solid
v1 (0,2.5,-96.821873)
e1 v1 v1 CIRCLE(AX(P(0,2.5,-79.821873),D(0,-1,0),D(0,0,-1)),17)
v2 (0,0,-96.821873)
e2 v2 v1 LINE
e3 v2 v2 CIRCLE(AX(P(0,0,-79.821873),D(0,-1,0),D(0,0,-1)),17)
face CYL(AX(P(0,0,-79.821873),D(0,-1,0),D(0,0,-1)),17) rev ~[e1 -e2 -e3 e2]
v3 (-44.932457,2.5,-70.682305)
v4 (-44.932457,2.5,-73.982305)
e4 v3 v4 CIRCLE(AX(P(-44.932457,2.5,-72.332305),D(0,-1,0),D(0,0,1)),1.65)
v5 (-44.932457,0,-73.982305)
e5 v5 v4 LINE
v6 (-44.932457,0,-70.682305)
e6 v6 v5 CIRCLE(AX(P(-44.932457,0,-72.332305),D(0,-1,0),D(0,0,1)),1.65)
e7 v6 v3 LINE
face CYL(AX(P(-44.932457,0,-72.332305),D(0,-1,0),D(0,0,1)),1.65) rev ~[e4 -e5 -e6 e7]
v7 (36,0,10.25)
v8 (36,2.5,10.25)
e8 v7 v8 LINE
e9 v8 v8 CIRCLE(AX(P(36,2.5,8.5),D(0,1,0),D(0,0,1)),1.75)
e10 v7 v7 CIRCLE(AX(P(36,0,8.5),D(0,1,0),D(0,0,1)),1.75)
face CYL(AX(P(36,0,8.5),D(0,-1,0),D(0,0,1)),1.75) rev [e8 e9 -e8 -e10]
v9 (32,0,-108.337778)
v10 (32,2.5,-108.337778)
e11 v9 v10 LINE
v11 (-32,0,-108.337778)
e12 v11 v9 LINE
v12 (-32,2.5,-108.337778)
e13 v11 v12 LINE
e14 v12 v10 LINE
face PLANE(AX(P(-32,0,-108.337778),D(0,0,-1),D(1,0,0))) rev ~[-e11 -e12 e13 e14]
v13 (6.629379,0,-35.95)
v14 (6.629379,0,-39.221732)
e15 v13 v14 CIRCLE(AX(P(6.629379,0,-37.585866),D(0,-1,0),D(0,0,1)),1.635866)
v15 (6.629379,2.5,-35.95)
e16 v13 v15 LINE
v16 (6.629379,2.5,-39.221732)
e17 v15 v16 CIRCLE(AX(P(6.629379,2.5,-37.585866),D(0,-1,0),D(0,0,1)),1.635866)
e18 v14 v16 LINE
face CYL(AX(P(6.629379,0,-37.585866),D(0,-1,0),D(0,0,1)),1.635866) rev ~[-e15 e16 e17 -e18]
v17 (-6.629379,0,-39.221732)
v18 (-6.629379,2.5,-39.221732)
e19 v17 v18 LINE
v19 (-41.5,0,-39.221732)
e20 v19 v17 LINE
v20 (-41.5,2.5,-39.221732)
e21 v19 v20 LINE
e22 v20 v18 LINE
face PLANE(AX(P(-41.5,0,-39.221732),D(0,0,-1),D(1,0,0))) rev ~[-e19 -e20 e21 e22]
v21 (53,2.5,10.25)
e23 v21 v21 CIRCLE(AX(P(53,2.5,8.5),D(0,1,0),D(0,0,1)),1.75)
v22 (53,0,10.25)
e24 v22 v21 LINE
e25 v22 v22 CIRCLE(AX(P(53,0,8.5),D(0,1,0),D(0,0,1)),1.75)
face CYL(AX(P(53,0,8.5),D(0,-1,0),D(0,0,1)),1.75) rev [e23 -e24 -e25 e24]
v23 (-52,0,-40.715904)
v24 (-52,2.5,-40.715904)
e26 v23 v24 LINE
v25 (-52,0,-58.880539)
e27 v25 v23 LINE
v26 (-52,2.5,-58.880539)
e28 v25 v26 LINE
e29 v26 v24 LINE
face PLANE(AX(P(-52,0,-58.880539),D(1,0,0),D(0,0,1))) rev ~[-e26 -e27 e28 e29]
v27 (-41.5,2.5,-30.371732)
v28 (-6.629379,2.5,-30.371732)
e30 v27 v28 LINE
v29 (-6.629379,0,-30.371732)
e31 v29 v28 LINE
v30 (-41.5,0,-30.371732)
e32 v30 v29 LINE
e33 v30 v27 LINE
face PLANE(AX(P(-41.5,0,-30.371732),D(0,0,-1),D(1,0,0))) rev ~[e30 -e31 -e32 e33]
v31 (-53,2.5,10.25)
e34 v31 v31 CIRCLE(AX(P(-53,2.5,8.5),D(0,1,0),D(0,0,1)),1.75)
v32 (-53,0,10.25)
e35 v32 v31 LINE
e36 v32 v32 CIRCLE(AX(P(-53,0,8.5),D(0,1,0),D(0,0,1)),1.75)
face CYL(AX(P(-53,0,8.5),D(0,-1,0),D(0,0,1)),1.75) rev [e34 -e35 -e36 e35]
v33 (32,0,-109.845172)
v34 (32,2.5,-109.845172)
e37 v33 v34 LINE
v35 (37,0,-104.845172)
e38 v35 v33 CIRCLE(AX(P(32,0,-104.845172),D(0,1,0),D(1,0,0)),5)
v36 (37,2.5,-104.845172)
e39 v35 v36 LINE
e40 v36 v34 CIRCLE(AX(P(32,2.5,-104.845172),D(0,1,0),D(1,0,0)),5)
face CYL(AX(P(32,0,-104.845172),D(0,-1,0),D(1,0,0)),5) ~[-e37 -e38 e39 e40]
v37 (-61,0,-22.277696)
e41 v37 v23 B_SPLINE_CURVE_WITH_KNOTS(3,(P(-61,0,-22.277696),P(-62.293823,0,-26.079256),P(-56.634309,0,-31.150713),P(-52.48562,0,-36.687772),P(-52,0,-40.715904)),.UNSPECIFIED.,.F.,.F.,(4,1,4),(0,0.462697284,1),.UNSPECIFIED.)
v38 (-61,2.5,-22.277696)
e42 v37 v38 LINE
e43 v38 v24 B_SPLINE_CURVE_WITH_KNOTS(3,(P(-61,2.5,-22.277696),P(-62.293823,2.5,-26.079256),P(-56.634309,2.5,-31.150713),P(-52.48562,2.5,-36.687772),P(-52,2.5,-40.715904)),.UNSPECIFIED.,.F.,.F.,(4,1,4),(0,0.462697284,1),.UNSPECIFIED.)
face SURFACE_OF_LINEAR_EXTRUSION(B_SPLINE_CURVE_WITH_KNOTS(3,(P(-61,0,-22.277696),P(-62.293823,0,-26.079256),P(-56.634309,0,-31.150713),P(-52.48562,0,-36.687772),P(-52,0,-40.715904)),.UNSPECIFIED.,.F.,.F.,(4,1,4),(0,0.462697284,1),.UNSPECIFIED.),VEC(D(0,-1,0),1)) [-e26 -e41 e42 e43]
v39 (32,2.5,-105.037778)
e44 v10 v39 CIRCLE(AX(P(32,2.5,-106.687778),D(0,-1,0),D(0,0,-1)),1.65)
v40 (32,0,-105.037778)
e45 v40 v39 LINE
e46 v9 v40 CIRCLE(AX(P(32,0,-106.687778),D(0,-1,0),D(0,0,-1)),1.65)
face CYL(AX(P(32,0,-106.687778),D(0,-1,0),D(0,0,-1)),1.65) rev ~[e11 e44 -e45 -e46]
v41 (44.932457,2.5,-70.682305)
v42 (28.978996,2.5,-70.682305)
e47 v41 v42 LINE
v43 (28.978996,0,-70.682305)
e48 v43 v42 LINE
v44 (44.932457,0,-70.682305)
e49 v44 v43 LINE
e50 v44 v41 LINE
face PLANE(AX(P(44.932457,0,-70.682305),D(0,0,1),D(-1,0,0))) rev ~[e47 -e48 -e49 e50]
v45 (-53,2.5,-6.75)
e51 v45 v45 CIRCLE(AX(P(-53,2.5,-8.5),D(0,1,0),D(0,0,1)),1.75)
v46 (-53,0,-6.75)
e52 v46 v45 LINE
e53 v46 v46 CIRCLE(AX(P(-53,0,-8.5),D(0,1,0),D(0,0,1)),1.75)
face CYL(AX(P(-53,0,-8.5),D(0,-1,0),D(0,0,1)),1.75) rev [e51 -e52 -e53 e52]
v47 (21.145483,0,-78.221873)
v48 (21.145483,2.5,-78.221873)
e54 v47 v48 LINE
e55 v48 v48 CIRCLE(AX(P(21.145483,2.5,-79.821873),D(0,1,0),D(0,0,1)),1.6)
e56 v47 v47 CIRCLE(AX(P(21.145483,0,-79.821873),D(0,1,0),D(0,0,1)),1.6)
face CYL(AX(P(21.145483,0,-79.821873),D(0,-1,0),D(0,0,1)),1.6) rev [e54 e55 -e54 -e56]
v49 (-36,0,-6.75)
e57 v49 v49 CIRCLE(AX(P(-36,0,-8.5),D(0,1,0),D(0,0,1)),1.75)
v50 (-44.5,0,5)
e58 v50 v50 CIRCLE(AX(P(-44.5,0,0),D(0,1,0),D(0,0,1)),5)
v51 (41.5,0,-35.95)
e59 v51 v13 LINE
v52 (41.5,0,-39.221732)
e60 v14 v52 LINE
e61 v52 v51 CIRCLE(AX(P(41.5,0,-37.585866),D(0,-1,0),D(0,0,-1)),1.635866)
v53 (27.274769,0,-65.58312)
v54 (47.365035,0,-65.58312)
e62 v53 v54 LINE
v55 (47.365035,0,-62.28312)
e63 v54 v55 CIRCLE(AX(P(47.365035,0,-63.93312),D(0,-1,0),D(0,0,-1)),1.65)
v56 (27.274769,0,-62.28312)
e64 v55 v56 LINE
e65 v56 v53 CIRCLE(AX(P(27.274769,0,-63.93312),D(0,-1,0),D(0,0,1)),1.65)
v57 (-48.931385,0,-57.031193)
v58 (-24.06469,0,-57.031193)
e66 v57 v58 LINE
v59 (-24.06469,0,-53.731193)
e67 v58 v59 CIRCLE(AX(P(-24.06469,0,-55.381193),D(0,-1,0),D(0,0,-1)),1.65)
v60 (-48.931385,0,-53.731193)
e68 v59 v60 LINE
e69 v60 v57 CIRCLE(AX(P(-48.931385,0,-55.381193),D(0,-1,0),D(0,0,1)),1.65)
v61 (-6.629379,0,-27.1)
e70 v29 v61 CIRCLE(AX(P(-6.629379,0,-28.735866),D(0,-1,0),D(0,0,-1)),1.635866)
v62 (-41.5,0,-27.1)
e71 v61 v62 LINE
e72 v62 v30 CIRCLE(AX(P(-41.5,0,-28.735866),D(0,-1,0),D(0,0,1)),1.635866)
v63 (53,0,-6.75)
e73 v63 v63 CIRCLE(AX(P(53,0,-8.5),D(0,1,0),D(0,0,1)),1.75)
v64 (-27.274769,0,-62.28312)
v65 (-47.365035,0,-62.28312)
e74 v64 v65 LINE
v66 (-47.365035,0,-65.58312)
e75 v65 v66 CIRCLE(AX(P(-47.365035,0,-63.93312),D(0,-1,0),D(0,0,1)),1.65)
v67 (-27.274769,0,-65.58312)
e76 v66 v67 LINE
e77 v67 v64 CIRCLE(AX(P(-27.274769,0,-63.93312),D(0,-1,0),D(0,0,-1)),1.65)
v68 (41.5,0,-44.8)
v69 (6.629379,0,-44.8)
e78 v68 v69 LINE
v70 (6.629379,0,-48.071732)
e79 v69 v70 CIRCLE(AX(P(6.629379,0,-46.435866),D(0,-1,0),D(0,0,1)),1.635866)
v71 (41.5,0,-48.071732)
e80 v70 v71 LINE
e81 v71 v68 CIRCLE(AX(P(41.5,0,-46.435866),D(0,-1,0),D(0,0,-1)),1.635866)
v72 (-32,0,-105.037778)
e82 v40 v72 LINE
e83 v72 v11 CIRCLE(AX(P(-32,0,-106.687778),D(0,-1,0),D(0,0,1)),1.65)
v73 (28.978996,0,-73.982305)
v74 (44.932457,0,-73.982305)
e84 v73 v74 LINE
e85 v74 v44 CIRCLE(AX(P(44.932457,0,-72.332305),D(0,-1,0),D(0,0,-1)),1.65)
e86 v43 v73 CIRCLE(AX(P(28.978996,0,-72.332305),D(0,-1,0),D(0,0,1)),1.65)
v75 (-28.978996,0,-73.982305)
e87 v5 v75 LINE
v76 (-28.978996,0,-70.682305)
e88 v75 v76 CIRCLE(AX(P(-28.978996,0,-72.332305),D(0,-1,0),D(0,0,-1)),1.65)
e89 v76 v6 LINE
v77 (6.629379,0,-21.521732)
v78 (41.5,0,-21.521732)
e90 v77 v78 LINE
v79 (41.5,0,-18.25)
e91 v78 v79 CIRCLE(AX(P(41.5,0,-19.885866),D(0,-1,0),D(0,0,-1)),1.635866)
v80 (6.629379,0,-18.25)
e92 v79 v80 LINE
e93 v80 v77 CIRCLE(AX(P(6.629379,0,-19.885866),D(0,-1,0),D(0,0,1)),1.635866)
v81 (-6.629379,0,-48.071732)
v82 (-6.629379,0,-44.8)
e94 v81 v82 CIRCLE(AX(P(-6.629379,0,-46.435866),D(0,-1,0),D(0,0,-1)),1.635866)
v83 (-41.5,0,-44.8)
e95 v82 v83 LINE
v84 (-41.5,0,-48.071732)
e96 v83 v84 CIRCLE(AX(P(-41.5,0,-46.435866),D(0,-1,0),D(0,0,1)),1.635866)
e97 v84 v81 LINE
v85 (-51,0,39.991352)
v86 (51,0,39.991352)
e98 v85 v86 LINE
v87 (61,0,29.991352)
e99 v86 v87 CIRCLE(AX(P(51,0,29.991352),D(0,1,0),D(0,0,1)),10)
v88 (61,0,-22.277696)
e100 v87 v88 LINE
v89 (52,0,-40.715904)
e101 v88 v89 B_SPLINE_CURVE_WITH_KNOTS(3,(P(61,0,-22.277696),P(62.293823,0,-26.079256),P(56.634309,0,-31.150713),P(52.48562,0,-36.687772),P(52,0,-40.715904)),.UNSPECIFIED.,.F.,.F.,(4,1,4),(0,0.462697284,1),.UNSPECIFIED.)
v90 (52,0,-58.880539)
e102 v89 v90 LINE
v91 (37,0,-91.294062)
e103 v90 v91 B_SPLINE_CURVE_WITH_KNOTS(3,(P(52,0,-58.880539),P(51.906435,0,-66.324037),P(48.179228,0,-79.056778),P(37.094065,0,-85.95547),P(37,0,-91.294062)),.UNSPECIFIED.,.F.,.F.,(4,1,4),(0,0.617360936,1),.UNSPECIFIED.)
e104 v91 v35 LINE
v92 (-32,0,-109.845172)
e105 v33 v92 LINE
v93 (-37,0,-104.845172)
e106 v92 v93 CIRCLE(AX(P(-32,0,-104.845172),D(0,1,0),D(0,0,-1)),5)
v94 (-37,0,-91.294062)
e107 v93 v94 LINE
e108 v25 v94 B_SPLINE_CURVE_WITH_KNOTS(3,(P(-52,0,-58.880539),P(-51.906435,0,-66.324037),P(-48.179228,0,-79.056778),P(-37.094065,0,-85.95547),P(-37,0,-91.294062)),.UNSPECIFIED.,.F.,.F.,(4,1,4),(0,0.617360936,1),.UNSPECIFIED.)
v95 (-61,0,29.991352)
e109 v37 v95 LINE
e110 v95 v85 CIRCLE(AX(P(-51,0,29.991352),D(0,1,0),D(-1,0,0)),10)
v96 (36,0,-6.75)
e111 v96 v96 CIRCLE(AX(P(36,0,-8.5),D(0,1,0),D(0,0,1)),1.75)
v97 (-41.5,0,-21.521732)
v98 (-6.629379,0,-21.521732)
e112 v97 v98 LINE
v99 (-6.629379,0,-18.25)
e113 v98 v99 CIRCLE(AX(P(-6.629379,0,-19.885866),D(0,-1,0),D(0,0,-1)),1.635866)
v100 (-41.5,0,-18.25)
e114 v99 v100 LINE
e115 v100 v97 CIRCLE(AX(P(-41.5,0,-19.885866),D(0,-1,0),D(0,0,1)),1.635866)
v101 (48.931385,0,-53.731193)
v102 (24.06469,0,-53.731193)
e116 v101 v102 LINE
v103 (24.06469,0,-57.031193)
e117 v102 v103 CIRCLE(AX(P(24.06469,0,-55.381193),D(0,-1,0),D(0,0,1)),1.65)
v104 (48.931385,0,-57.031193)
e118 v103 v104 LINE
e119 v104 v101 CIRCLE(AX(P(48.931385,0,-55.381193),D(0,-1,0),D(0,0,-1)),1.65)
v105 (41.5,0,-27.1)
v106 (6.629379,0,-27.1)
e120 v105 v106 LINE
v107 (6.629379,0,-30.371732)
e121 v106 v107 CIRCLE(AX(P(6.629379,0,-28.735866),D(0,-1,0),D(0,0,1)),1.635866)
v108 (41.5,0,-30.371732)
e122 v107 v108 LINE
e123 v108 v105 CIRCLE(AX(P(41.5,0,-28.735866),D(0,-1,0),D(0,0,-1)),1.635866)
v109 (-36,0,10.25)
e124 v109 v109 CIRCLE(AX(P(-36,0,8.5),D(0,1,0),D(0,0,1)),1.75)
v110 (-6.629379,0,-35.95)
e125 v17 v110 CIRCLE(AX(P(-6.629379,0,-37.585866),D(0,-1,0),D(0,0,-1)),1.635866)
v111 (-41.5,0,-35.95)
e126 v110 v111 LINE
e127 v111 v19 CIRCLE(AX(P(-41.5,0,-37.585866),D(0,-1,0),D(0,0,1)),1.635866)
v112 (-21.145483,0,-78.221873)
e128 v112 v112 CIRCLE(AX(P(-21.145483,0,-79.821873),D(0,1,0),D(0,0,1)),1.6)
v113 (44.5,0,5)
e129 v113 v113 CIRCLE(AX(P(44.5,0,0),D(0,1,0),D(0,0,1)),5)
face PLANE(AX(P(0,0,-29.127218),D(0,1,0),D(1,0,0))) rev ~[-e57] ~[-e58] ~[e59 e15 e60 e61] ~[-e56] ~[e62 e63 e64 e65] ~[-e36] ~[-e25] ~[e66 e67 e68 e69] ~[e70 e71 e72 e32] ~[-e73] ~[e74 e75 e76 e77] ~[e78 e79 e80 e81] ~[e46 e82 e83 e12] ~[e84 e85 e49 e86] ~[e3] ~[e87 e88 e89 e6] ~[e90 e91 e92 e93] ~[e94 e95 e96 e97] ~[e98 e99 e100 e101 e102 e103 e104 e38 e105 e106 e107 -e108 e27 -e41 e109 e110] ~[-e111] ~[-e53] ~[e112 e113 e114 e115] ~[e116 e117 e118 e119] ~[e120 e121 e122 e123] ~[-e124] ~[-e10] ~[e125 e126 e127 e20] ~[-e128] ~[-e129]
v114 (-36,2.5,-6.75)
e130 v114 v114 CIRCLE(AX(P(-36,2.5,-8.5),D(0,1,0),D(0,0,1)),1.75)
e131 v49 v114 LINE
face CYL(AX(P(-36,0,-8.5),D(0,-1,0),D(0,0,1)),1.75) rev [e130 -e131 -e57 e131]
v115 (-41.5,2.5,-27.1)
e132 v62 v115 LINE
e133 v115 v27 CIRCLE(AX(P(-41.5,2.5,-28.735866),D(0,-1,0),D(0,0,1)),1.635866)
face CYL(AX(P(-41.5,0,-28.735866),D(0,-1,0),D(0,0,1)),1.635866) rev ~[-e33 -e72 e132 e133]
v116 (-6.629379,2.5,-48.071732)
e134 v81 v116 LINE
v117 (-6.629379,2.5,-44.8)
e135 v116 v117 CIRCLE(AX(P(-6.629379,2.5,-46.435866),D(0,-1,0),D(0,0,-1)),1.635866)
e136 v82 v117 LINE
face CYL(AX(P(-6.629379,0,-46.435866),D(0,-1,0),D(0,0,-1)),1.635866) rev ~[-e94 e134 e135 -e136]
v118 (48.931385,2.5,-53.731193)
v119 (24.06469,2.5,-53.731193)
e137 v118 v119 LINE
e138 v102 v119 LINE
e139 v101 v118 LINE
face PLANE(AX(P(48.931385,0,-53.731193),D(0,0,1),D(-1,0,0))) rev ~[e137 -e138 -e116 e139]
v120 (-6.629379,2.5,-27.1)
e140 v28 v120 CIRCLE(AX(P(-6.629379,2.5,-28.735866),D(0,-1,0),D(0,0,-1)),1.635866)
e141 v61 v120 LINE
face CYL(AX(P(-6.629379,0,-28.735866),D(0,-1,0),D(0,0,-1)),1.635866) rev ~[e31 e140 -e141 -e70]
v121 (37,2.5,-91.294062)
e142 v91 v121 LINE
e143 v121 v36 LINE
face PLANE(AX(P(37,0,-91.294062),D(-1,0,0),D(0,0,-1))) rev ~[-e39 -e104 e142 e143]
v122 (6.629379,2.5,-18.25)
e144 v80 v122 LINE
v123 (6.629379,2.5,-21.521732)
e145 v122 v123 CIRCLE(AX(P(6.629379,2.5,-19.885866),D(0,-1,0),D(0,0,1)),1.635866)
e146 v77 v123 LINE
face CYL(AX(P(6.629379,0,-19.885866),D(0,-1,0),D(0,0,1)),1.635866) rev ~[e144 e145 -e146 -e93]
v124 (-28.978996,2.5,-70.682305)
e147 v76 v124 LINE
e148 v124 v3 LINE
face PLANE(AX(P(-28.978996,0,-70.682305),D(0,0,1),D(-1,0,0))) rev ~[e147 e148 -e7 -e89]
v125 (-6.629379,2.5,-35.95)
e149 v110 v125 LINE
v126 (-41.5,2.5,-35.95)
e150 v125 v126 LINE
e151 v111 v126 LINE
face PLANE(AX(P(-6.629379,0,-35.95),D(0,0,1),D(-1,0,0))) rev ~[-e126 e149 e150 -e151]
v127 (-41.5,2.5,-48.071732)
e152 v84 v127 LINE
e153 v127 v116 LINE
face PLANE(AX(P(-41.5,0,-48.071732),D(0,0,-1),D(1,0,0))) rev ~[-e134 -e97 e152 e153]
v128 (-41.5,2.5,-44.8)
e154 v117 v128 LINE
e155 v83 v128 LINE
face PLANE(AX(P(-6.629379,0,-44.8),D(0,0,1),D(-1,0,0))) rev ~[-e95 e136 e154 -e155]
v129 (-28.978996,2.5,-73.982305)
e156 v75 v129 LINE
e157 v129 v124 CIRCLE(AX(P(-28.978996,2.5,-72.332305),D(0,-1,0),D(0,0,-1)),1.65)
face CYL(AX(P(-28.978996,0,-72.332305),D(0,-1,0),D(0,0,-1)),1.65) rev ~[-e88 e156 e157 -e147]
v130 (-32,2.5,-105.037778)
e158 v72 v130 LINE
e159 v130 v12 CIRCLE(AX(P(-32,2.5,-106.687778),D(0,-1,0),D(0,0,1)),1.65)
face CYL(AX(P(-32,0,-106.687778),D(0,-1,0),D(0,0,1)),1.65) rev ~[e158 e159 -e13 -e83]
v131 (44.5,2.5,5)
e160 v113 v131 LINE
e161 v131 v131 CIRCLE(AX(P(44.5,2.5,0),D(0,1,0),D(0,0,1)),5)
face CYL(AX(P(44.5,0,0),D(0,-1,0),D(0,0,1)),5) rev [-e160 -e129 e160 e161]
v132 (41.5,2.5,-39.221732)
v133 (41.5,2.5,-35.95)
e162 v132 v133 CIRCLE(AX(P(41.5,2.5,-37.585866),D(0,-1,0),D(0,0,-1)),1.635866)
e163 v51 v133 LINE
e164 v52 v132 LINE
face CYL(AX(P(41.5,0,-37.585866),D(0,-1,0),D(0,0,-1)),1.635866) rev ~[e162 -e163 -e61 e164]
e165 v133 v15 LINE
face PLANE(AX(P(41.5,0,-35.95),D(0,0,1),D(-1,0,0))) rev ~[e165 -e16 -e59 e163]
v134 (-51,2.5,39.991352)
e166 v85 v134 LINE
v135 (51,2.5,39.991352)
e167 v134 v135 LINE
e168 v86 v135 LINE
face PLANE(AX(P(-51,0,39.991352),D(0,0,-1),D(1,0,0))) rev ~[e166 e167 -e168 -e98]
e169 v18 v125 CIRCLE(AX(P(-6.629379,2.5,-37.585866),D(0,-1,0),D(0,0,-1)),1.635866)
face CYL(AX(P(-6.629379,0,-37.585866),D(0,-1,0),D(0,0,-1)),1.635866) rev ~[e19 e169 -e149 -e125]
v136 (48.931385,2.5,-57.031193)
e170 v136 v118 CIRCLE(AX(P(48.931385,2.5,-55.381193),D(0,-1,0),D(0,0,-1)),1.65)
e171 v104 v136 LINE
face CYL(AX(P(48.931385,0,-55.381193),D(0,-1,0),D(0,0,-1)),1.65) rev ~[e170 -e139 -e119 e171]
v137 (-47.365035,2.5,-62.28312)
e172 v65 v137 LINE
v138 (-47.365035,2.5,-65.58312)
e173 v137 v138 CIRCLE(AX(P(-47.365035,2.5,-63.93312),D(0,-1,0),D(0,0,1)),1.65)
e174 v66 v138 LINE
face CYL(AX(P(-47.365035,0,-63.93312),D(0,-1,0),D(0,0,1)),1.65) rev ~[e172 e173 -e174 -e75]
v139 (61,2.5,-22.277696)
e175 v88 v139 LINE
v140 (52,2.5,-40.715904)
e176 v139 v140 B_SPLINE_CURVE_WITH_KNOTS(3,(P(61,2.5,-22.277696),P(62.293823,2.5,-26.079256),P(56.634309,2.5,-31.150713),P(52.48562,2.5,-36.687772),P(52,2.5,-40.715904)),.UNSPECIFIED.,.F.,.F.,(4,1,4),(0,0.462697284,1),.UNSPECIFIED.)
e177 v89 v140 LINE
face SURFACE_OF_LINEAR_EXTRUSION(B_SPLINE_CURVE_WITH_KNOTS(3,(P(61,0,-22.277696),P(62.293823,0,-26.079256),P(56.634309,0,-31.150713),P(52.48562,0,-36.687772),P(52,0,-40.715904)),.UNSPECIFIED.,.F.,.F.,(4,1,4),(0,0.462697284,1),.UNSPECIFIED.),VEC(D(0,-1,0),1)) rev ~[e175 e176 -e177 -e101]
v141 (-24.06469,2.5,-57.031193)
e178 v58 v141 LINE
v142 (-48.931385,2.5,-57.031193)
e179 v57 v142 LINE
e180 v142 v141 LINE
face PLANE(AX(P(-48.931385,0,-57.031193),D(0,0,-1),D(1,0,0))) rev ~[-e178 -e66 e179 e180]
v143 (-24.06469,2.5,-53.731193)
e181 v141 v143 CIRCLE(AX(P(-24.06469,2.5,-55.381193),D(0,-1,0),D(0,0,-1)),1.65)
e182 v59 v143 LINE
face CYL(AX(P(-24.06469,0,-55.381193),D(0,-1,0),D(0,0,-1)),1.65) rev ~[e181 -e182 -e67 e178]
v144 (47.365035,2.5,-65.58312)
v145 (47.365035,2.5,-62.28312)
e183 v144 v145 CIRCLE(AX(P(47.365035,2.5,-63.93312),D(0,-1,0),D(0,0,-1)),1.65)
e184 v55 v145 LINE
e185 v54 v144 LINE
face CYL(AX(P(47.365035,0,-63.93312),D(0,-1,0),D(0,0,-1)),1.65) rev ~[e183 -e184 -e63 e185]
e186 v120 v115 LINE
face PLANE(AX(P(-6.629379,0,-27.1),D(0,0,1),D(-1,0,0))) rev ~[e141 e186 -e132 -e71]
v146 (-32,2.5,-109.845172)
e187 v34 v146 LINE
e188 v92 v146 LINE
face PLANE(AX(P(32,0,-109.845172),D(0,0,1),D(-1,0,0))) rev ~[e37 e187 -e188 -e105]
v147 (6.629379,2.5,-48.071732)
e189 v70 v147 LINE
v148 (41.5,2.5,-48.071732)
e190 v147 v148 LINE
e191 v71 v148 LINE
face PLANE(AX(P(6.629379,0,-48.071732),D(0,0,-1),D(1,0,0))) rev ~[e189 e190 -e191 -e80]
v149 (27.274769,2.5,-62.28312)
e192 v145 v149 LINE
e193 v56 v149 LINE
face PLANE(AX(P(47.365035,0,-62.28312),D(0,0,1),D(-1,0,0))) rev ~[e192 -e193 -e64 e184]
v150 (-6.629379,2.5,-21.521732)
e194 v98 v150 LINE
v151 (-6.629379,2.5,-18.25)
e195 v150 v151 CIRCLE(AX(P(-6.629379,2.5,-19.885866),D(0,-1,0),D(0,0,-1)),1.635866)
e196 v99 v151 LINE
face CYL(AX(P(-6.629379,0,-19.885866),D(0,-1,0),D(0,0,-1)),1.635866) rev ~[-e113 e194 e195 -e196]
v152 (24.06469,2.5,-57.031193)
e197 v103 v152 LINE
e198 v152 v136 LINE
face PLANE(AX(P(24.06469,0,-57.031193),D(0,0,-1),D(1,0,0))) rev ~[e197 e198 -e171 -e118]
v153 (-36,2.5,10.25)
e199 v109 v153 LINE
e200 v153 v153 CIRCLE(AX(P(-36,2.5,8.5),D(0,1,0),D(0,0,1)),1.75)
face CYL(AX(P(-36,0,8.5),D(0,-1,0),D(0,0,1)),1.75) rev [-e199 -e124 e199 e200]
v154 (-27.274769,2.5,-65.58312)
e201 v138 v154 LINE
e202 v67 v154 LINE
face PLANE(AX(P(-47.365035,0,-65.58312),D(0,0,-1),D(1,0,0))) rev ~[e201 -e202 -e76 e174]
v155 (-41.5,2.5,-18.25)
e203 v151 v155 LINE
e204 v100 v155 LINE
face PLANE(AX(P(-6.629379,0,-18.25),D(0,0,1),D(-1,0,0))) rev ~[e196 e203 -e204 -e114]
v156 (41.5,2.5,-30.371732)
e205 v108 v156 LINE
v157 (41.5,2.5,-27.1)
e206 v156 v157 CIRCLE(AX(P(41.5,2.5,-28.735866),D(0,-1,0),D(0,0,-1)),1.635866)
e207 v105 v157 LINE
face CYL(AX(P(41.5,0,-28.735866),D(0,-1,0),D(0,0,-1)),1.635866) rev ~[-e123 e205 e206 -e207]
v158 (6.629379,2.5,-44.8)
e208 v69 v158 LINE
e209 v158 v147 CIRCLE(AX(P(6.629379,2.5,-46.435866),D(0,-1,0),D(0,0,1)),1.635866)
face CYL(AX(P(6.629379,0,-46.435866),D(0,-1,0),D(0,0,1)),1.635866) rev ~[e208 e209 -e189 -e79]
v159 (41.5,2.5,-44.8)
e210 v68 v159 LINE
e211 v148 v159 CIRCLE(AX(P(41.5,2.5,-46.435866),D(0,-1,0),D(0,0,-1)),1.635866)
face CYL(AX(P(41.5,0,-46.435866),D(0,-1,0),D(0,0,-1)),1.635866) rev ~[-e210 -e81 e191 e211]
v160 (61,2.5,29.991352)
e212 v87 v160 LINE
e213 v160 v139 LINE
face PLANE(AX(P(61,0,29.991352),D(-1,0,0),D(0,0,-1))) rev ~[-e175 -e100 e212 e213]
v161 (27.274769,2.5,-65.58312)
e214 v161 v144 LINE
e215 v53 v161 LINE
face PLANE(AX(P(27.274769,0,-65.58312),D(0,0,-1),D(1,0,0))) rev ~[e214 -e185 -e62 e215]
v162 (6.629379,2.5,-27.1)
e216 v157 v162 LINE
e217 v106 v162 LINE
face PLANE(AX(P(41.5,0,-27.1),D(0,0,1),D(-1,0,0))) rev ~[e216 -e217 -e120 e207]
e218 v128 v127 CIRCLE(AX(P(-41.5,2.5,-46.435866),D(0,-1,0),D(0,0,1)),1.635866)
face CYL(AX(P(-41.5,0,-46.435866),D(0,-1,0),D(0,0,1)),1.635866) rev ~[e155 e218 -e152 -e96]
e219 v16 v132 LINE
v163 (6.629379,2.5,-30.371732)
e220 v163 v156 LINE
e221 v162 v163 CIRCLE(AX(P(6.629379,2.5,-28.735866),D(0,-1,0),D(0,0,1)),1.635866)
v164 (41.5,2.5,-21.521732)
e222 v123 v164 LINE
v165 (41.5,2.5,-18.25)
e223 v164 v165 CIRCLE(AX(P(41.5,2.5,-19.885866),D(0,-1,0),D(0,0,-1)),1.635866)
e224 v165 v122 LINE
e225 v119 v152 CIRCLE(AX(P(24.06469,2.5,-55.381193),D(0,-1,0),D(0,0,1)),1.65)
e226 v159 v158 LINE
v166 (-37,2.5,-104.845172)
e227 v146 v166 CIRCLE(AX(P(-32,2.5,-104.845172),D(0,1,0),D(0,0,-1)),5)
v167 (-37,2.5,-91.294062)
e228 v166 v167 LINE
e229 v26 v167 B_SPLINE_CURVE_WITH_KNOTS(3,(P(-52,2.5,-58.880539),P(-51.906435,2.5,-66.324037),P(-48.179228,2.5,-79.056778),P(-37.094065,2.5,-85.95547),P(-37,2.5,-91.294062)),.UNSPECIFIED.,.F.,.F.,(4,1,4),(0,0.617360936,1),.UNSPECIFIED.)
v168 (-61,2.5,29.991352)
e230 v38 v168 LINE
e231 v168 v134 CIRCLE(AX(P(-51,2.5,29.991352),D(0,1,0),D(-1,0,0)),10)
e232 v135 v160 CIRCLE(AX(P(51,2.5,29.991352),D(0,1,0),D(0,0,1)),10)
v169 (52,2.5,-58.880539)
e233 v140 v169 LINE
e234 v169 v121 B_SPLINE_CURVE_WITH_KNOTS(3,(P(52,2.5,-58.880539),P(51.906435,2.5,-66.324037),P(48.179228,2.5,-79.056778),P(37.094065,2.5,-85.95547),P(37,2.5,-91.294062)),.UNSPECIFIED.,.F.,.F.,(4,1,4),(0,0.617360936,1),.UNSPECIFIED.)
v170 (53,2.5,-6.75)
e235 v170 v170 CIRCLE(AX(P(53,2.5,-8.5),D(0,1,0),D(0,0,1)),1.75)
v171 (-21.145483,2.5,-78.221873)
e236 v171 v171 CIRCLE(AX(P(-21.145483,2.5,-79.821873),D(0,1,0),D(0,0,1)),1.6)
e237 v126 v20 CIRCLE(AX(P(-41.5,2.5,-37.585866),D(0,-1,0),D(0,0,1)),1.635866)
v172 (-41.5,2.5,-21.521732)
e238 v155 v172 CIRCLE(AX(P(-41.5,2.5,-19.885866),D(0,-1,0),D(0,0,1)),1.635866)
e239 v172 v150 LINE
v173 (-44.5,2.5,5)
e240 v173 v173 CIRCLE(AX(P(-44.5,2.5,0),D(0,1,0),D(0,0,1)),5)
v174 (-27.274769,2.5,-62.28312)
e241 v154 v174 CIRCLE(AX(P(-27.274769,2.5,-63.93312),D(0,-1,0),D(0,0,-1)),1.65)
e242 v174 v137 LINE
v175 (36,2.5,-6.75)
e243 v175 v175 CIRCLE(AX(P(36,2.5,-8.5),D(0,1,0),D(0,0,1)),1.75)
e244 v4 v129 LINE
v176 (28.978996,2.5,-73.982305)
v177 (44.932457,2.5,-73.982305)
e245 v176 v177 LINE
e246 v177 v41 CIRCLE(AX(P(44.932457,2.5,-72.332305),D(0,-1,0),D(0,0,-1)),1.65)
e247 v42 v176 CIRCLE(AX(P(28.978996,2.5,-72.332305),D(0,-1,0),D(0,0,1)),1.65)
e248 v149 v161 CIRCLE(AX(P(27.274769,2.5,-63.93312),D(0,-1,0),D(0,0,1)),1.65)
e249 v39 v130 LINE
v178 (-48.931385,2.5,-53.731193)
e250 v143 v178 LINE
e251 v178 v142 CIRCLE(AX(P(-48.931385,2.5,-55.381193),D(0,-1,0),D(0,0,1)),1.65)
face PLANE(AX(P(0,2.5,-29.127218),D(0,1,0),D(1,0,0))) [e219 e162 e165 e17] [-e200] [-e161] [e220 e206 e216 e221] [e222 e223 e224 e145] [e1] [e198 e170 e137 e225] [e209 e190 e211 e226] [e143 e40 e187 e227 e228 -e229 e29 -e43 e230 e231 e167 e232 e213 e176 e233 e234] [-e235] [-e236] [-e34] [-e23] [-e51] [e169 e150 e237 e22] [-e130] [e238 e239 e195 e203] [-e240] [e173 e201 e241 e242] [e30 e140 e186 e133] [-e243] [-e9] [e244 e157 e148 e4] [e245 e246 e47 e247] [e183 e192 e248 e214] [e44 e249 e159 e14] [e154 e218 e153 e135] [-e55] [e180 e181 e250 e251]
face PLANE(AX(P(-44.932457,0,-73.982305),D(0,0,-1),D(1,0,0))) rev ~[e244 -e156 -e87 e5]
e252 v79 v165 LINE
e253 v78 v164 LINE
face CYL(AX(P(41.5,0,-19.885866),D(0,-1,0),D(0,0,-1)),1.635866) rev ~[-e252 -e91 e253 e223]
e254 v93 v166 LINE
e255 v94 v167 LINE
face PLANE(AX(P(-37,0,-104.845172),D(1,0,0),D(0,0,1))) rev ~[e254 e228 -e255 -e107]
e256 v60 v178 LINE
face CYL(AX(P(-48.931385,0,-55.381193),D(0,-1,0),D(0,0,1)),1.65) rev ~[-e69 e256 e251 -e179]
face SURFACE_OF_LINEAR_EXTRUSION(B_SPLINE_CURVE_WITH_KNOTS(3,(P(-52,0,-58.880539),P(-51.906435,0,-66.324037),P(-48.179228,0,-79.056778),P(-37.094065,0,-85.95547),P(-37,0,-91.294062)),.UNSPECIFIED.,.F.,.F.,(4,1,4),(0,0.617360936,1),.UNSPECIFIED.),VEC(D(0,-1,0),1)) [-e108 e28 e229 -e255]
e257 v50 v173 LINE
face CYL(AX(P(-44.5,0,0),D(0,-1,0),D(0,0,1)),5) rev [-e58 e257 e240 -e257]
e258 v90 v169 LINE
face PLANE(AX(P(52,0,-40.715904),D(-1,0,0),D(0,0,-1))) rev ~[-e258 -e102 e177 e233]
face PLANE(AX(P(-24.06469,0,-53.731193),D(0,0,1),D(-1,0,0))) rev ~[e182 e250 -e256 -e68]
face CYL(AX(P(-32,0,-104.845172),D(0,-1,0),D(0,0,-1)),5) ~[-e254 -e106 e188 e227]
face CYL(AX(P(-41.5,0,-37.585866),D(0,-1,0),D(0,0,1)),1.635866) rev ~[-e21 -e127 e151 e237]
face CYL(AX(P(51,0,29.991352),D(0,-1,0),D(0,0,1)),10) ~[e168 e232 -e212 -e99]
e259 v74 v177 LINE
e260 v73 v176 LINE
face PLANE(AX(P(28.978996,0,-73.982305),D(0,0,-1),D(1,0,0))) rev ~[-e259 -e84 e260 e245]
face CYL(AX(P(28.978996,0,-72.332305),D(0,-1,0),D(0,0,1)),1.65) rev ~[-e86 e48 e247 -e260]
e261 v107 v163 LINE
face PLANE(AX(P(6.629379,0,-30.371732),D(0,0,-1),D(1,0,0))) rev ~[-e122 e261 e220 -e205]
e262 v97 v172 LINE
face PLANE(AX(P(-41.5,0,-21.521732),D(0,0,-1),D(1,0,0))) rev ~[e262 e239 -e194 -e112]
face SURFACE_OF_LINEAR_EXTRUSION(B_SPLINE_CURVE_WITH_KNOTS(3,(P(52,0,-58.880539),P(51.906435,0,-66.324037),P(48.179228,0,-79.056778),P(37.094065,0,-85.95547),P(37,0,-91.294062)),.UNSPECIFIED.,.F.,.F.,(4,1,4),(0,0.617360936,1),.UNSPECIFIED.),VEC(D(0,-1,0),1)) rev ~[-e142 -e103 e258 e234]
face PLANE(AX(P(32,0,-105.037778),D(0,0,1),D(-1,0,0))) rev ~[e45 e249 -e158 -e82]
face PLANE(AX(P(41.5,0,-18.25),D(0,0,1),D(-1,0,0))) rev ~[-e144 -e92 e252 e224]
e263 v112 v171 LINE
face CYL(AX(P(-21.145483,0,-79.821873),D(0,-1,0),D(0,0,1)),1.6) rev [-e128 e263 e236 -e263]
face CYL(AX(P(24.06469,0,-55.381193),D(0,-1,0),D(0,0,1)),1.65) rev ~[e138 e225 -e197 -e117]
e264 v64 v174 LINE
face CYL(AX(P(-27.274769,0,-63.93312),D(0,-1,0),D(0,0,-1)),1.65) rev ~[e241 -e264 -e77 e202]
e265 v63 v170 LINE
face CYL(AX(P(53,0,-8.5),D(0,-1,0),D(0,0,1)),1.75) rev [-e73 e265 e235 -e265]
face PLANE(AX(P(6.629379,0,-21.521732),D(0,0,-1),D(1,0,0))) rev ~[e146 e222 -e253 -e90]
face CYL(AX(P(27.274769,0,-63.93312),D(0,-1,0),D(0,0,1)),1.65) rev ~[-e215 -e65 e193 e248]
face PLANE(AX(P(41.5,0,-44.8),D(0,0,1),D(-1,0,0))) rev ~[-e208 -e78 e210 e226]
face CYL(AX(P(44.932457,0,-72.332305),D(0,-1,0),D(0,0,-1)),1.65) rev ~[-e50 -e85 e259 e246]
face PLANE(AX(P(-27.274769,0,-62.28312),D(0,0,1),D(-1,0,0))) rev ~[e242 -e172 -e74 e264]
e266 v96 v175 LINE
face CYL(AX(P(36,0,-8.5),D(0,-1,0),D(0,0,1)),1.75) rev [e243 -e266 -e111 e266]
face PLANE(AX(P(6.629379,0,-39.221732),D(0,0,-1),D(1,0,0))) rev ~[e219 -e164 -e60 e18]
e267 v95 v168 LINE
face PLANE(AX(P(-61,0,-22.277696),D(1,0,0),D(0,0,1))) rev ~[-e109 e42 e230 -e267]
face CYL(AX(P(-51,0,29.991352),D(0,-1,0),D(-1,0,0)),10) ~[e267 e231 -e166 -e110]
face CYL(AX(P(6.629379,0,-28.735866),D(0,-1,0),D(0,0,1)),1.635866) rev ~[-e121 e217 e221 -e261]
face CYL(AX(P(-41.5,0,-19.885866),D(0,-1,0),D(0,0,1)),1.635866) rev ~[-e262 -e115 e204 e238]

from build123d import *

# Parameters (mm, degrees)
SKETCH_1_R      = 1.75
SKETCH_1_R_2    = 5
SKETCH_1_R_3    = 1.6
EXTRUDE_1_DEPTH = 2.5


with BuildPart() as part:
    # 草图1 → 凸台-拉伸1 (new body)
    with BuildSketch(Plane(origin=(0, 0, 0), x_dir=(1, 0, 0), z_dir=(0, 1, 0))):
        with BuildLine():
            ThreePointArc((-61, -29.99135156), (-58.071067812, -37.062419372), (-51, -39.99135156))
            Line((-51, -39.99135156), (51, -39.99135156))
            ThreePointArc((51, -39.99135156), (58.071067812, -37.062419372), (61, -29.99135156))
            Line((61, -29.99135156), (61, 22.277696204))
            add(Edge.make_bspline(
                [(61, 22.277696204), (62.293823386, 26.079256197), (56.634308682, 31.150713443), (52.485620359, 36.687772359), (52, 40.715903778)],
                knots=[0, 0, 0, 0, 0.462697284, 1, 1, 1, 1], degree=3))
            Line((52, 40.715903778), (52, 58.880539276))
            add(Edge.make_bspline(
                [(52, 58.880539276), (51.906435238, 66.324037), (48.17922794, 79.056777751), (37.094065188, 85.955470032), (37, 91.294061848)],
                knots=[0, 0, 0, 0, 0.617360936, 1, 1, 1, 1], degree=3))
            Line((37, 91.294061848), (37, 104.845172054))
            ThreePointArc((37, 104.845172054), (35.535533906, 108.38070596), (32, 109.845172054))
            Line((32, 109.845172054), (-32, 109.845172054))
            ThreePointArc((-32, 109.845172054), (-35.535533906, 108.38070596), (-37, 104.845172054))
            Line((-37, 104.845172054), (-37, 91.294061848))
            add(Edge.make_bspline(
                [(-52, 58.880539276), (-51.906435238, 66.324037), (-48.17922794, 79.056777751), (-37.094065188, 85.955470032), (-37, 91.294061848)],
                knots=[0, 0, 0, 0, 0.617360936, 1, 1, 1, 1], degree=3))
            Line((-52, 58.880539276), (-52, 40.715903778))
            add(Edge.make_bspline(
                [(-61, 22.277696204), (-62.293823386, 26.079256197), (-56.634308682, 31.150713443), (-52.485620359, 36.687772359), (-52, 40.715903778)],
                knots=[0, 0, 0, 0, 0.462697284, 1, 1, 1, 1], degree=3))
            Line((-61, 22.277696204), (-61, -29.99135156))
        make_face()
        with Locations(Location((-53, -8.5, 0), (0, 0, 270))):
            Circle(SKETCH_1_R, mode=Mode.SUBTRACT)
        with Locations(Location((-44.5, 0, 0), (0, 0, 270))):
            Circle(SKETCH_1_R_2, mode=Mode.SUBTRACT)
        with Locations(Location((-36, -8.5, 0), (0, 0, 270))):
            Circle(SKETCH_1_R, mode=Mode.SUBTRACT)
        with Locations(Location((-53, 8.5, 0), (0, 0, 270))):
            Circle(SKETCH_1_R, mode=Mode.SUBTRACT)
        with Locations(Location((-36, 8.5, 0), (0, 0, 270))):
            Circle(SKETCH_1_R, mode=Mode.SUBTRACT)
        with BuildLine():
            ThreePointArc((-41.5, 18.25), (-43.13586607, 19.88586607), (-41.5, 21.52173214))
            Line((-41.5, 21.52173214), (-6.629379417, 21.52173214))
            ThreePointArc((-6.629379417, 21.52173214), (-4.993513347, 19.88586607), (-6.629379417, 18.25))
            Line((-6.629379417, 18.25), (-41.5, 18.25))
        make_face(mode=Mode.SUBTRACT)
        with BuildLine():
            ThreePointArc((-41.5, 27.1), (-43.13586607, 28.73586607), (-41.5, 30.37173214))
            Line((-41.5, 30.37173214), (-6.629379417, 30.37173214))
            ThreePointArc((-6.629379417, 30.37173214), (-4.993513347, 28.73586607), (-6.629379417, 27.1))
            Line((-6.629379417, 27.1), (-41.5, 27.1))
        make_face(mode=Mode.SUBTRACT)
        with BuildLine():
            ThreePointArc((-41.5, 35.95), (-43.13586607, 37.58586607), (-41.5, 39.22173214))
            Line((-41.5, 39.22173214), (-6.629379417, 39.22173214))
            ThreePointArc((-6.629379417, 39.22173214), (-4.993513347, 37.58586607), (-6.629379417, 35.95))
            Line((-6.629379417, 35.95), (-41.5, 35.95))
        make_face(mode=Mode.SUBTRACT)
        with BuildLine():
            ThreePointArc((-41.5, 44.8), (-43.13586607, 46.43586607), (-41.5, 48.07173214))
            Line((-41.5, 48.07173214), (-6.629379417, 48.07173214))
            ThreePointArc((-6.629379417, 48.07173214), (-4.993513347, 46.43586607), (-6.629379417, 44.8))
            Line((-6.629379417, 44.8), (-41.5, 44.8))
        make_face(mode=Mode.SUBTRACT)
        with Locations(Location((36, -8.5, 0), (0, 0, 270))):
            Circle(SKETCH_1_R, mode=Mode.SUBTRACT)
        with Locations(Location((53, -8.5, 0), (0, 0, 270))):
            Circle(SKETCH_1_R, mode=Mode.SUBTRACT)
        with Locations(Location((44.5, 0, 0), (0, 0, 270))):
            Circle(SKETCH_1_R_2, mode=Mode.SUBTRACT)
        with Locations(Location((36, 8.5, 0), (0, 0, 270))):
            Circle(SKETCH_1_R, mode=Mode.SUBTRACT)
        with Locations(Location((53, 8.5, 0), (0, 0, 270))):
            Circle(SKETCH_1_R, mode=Mode.SUBTRACT)
        with BuildLine():
            Line((6.629379417, 21.52173214), (41.5, 21.52173214))
            ThreePointArc((41.5, 21.52173214), (43.13586607, 19.88586607), (41.5, 18.25))
            Line((41.5, 18.25), (6.629379417, 18.25))
            ThreePointArc((6.629379417, 18.25), (4.993513347, 19.88586607), (6.629379417, 21.52173214))
        make_face(mode=Mode.SUBTRACT)
        with BuildLine():
            Line((6.629379417, 30.37173214), (41.5, 30.37173214))
            ThreePointArc((41.5, 30.37173214), (43.13586607, 28.73586607), (41.5, 27.1))
            Line((41.5, 27.1), (6.629379417, 27.1))
            ThreePointArc((6.629379417, 27.1), (4.993513347, 28.73586607), (6.629379417, 30.37173214))
        make_face(mode=Mode.SUBTRACT)
        with BuildLine():
            Line((6.629379417, 39.22173214), (41.5, 39.22173214))
            ThreePointArc((41.5, 39.22173214), (43.13586607, 37.58586607), (41.5, 35.95))
            Line((41.5, 35.95), (6.629379417, 35.95))
            ThreePointArc((6.629379417, 35.95), (4.993513347, 37.58586607), (6.629379417, 39.22173214))
        make_face(mode=Mode.SUBTRACT)
        with BuildLine():
            Line((6.629379417, 48.07173214), (41.5, 48.07173214))
            ThreePointArc((41.5, 48.07173214), (43.13586607, 46.43586607), (41.5, 44.8))
            Line((41.5, 44.8), (6.629379417, 44.8))
            ThreePointArc((6.629379417, 44.8), (4.993513347, 46.43586607), (6.629379417, 48.07173214))
        make_face(mode=Mode.SUBTRACT)
        with BuildLine():
            ThreePointArc((-48.931385346, 53.73119276), (-50.581385346, 55.38119276), (-48.931385346, 57.03119276))
            Line((-48.931385346, 57.03119276), (-24.064689708, 57.03119276))
            ThreePointArc((-24.064689708, 57.03119276), (-22.414689708, 55.38119276), (-24.064689708, 53.73119276))
            Line((-24.064689708, 53.73119276), (-48.931385346, 53.73119276))
        make_face(mode=Mode.SUBTRACT)
        with BuildLine():
            Line((-47.365035435, 65.58311996), (-27.274768907, 65.58311996))
            ThreePointArc((-27.274768907, 65.58311996), (-25.624768907, 63.93311996), (-27.274768907, 62.28311996))
            Line((-27.274768907, 62.28311996), (-47.365035435, 62.28311996))
            ThreePointArc((-47.365035435, 62.28311996), (-49.015035435, 63.93311996), (-47.365035435, 65.58311996))
        make_face(mode=Mode.SUBTRACT)
        with BuildLine():
            Line((-44.932457044, 73.982304528), (-28.97899618, 73.982304528))
            ThreePointArc((-28.97899618, 73.982304528), (-27.32899618, 72.332304528), (-28.97899618, 70.682304528))
            Line((-28.97899618, 70.682304528), (-44.932457044, 70.682304528))
            ThreePointArc((-44.932457044, 70.682304528), (-46.582457044, 72.332304528), (-44.932457044, 73.982304528))
        make_face(mode=Mode.SUBTRACT)
        with Locations(Location((-21.145483371, 79.821873209, 0), (0, 0, 270))):
            Circle(SKETCH_1_R_3, mode=Mode.SUBTRACT)
        with BuildLine():
            Line((32, 105.037777769), (0, 105.037777769))
            Line((0, 105.037777769), (-32, 105.037777769))
            ThreePointArc((-32, 105.037777769), (-33.65, 106.687777769), (-32, 108.337777769))
            Line((-32, 108.337777769), (32, 108.337777769))
            ThreePointArc((32, 108.337777769), (33.65, 106.687777769), (32, 105.037777769))
        make_face(mode=Mode.SUBTRACT)
        with BuildLine():
            Line((24.064689708, 57.03119276), (48.931385346, 57.03119276))
            ThreePointArc((48.931385346, 57.03119276), (50.581385346, 55.38119276), (48.931385346, 53.73119276))
            Line((48.931385346, 53.73119276), (24.064689708, 53.73119276))
            ThreePointArc((24.064689708, 53.73119276), (22.414689708, 55.38119276), (24.064689708, 57.03119276))
        make_face(mode=Mode.SUBTRACT)
        with BuildLine():
            Line((27.274768907, 65.58311996), (47.365035435, 65.58311996))
            ThreePointArc((47.365035435, 65.58311996), (49.015035435, 63.93311996), (47.365035435, 62.28311996))
            Line((47.365035435, 62.28311996), (27.274768907, 62.28311996))
            ThreePointArc((27.274768907, 62.28311996), (25.624768907, 63.93311996), (27.274768907, 65.58311996))
        make_face(mode=Mode.SUBTRACT)
        with BuildLine():
            Line((44.932457044, 70.682304528), (28.97899618, 70.682304528))
            ThreePointArc((28.97899618, 70.682304528), (27.32899618, 72.332304528), (28.97899618, 73.982304528))
            Line((28.97899618, 73.982304528), (44.932457044, 73.982304528))
            ThreePointArc((44.932457044, 73.982304528), (46.582457044, 72.332304528), (44.932457044, 70.682304528))
        make_face(mode=Mode.SUBTRACT)
        with BuildLine():
            ThreePointArc((0, 62.821873209), (-17, 79.821873209), (0, 96.821873209))
            ThreePointArc((0, 96.821873209), (17, 79.821873209), (0, 62.821873209))
        make_face(mode=Mode.SUBTRACT)
        with Locations(Location((21.145483371, 79.821873209, 0), (0, 0, 270))):
            Circle(SKETCH_1_R_3, mode=Mode.SUBTRACT)
    extrude(amount=EXTRUDE_1_DEPTH)


solid = part.part
